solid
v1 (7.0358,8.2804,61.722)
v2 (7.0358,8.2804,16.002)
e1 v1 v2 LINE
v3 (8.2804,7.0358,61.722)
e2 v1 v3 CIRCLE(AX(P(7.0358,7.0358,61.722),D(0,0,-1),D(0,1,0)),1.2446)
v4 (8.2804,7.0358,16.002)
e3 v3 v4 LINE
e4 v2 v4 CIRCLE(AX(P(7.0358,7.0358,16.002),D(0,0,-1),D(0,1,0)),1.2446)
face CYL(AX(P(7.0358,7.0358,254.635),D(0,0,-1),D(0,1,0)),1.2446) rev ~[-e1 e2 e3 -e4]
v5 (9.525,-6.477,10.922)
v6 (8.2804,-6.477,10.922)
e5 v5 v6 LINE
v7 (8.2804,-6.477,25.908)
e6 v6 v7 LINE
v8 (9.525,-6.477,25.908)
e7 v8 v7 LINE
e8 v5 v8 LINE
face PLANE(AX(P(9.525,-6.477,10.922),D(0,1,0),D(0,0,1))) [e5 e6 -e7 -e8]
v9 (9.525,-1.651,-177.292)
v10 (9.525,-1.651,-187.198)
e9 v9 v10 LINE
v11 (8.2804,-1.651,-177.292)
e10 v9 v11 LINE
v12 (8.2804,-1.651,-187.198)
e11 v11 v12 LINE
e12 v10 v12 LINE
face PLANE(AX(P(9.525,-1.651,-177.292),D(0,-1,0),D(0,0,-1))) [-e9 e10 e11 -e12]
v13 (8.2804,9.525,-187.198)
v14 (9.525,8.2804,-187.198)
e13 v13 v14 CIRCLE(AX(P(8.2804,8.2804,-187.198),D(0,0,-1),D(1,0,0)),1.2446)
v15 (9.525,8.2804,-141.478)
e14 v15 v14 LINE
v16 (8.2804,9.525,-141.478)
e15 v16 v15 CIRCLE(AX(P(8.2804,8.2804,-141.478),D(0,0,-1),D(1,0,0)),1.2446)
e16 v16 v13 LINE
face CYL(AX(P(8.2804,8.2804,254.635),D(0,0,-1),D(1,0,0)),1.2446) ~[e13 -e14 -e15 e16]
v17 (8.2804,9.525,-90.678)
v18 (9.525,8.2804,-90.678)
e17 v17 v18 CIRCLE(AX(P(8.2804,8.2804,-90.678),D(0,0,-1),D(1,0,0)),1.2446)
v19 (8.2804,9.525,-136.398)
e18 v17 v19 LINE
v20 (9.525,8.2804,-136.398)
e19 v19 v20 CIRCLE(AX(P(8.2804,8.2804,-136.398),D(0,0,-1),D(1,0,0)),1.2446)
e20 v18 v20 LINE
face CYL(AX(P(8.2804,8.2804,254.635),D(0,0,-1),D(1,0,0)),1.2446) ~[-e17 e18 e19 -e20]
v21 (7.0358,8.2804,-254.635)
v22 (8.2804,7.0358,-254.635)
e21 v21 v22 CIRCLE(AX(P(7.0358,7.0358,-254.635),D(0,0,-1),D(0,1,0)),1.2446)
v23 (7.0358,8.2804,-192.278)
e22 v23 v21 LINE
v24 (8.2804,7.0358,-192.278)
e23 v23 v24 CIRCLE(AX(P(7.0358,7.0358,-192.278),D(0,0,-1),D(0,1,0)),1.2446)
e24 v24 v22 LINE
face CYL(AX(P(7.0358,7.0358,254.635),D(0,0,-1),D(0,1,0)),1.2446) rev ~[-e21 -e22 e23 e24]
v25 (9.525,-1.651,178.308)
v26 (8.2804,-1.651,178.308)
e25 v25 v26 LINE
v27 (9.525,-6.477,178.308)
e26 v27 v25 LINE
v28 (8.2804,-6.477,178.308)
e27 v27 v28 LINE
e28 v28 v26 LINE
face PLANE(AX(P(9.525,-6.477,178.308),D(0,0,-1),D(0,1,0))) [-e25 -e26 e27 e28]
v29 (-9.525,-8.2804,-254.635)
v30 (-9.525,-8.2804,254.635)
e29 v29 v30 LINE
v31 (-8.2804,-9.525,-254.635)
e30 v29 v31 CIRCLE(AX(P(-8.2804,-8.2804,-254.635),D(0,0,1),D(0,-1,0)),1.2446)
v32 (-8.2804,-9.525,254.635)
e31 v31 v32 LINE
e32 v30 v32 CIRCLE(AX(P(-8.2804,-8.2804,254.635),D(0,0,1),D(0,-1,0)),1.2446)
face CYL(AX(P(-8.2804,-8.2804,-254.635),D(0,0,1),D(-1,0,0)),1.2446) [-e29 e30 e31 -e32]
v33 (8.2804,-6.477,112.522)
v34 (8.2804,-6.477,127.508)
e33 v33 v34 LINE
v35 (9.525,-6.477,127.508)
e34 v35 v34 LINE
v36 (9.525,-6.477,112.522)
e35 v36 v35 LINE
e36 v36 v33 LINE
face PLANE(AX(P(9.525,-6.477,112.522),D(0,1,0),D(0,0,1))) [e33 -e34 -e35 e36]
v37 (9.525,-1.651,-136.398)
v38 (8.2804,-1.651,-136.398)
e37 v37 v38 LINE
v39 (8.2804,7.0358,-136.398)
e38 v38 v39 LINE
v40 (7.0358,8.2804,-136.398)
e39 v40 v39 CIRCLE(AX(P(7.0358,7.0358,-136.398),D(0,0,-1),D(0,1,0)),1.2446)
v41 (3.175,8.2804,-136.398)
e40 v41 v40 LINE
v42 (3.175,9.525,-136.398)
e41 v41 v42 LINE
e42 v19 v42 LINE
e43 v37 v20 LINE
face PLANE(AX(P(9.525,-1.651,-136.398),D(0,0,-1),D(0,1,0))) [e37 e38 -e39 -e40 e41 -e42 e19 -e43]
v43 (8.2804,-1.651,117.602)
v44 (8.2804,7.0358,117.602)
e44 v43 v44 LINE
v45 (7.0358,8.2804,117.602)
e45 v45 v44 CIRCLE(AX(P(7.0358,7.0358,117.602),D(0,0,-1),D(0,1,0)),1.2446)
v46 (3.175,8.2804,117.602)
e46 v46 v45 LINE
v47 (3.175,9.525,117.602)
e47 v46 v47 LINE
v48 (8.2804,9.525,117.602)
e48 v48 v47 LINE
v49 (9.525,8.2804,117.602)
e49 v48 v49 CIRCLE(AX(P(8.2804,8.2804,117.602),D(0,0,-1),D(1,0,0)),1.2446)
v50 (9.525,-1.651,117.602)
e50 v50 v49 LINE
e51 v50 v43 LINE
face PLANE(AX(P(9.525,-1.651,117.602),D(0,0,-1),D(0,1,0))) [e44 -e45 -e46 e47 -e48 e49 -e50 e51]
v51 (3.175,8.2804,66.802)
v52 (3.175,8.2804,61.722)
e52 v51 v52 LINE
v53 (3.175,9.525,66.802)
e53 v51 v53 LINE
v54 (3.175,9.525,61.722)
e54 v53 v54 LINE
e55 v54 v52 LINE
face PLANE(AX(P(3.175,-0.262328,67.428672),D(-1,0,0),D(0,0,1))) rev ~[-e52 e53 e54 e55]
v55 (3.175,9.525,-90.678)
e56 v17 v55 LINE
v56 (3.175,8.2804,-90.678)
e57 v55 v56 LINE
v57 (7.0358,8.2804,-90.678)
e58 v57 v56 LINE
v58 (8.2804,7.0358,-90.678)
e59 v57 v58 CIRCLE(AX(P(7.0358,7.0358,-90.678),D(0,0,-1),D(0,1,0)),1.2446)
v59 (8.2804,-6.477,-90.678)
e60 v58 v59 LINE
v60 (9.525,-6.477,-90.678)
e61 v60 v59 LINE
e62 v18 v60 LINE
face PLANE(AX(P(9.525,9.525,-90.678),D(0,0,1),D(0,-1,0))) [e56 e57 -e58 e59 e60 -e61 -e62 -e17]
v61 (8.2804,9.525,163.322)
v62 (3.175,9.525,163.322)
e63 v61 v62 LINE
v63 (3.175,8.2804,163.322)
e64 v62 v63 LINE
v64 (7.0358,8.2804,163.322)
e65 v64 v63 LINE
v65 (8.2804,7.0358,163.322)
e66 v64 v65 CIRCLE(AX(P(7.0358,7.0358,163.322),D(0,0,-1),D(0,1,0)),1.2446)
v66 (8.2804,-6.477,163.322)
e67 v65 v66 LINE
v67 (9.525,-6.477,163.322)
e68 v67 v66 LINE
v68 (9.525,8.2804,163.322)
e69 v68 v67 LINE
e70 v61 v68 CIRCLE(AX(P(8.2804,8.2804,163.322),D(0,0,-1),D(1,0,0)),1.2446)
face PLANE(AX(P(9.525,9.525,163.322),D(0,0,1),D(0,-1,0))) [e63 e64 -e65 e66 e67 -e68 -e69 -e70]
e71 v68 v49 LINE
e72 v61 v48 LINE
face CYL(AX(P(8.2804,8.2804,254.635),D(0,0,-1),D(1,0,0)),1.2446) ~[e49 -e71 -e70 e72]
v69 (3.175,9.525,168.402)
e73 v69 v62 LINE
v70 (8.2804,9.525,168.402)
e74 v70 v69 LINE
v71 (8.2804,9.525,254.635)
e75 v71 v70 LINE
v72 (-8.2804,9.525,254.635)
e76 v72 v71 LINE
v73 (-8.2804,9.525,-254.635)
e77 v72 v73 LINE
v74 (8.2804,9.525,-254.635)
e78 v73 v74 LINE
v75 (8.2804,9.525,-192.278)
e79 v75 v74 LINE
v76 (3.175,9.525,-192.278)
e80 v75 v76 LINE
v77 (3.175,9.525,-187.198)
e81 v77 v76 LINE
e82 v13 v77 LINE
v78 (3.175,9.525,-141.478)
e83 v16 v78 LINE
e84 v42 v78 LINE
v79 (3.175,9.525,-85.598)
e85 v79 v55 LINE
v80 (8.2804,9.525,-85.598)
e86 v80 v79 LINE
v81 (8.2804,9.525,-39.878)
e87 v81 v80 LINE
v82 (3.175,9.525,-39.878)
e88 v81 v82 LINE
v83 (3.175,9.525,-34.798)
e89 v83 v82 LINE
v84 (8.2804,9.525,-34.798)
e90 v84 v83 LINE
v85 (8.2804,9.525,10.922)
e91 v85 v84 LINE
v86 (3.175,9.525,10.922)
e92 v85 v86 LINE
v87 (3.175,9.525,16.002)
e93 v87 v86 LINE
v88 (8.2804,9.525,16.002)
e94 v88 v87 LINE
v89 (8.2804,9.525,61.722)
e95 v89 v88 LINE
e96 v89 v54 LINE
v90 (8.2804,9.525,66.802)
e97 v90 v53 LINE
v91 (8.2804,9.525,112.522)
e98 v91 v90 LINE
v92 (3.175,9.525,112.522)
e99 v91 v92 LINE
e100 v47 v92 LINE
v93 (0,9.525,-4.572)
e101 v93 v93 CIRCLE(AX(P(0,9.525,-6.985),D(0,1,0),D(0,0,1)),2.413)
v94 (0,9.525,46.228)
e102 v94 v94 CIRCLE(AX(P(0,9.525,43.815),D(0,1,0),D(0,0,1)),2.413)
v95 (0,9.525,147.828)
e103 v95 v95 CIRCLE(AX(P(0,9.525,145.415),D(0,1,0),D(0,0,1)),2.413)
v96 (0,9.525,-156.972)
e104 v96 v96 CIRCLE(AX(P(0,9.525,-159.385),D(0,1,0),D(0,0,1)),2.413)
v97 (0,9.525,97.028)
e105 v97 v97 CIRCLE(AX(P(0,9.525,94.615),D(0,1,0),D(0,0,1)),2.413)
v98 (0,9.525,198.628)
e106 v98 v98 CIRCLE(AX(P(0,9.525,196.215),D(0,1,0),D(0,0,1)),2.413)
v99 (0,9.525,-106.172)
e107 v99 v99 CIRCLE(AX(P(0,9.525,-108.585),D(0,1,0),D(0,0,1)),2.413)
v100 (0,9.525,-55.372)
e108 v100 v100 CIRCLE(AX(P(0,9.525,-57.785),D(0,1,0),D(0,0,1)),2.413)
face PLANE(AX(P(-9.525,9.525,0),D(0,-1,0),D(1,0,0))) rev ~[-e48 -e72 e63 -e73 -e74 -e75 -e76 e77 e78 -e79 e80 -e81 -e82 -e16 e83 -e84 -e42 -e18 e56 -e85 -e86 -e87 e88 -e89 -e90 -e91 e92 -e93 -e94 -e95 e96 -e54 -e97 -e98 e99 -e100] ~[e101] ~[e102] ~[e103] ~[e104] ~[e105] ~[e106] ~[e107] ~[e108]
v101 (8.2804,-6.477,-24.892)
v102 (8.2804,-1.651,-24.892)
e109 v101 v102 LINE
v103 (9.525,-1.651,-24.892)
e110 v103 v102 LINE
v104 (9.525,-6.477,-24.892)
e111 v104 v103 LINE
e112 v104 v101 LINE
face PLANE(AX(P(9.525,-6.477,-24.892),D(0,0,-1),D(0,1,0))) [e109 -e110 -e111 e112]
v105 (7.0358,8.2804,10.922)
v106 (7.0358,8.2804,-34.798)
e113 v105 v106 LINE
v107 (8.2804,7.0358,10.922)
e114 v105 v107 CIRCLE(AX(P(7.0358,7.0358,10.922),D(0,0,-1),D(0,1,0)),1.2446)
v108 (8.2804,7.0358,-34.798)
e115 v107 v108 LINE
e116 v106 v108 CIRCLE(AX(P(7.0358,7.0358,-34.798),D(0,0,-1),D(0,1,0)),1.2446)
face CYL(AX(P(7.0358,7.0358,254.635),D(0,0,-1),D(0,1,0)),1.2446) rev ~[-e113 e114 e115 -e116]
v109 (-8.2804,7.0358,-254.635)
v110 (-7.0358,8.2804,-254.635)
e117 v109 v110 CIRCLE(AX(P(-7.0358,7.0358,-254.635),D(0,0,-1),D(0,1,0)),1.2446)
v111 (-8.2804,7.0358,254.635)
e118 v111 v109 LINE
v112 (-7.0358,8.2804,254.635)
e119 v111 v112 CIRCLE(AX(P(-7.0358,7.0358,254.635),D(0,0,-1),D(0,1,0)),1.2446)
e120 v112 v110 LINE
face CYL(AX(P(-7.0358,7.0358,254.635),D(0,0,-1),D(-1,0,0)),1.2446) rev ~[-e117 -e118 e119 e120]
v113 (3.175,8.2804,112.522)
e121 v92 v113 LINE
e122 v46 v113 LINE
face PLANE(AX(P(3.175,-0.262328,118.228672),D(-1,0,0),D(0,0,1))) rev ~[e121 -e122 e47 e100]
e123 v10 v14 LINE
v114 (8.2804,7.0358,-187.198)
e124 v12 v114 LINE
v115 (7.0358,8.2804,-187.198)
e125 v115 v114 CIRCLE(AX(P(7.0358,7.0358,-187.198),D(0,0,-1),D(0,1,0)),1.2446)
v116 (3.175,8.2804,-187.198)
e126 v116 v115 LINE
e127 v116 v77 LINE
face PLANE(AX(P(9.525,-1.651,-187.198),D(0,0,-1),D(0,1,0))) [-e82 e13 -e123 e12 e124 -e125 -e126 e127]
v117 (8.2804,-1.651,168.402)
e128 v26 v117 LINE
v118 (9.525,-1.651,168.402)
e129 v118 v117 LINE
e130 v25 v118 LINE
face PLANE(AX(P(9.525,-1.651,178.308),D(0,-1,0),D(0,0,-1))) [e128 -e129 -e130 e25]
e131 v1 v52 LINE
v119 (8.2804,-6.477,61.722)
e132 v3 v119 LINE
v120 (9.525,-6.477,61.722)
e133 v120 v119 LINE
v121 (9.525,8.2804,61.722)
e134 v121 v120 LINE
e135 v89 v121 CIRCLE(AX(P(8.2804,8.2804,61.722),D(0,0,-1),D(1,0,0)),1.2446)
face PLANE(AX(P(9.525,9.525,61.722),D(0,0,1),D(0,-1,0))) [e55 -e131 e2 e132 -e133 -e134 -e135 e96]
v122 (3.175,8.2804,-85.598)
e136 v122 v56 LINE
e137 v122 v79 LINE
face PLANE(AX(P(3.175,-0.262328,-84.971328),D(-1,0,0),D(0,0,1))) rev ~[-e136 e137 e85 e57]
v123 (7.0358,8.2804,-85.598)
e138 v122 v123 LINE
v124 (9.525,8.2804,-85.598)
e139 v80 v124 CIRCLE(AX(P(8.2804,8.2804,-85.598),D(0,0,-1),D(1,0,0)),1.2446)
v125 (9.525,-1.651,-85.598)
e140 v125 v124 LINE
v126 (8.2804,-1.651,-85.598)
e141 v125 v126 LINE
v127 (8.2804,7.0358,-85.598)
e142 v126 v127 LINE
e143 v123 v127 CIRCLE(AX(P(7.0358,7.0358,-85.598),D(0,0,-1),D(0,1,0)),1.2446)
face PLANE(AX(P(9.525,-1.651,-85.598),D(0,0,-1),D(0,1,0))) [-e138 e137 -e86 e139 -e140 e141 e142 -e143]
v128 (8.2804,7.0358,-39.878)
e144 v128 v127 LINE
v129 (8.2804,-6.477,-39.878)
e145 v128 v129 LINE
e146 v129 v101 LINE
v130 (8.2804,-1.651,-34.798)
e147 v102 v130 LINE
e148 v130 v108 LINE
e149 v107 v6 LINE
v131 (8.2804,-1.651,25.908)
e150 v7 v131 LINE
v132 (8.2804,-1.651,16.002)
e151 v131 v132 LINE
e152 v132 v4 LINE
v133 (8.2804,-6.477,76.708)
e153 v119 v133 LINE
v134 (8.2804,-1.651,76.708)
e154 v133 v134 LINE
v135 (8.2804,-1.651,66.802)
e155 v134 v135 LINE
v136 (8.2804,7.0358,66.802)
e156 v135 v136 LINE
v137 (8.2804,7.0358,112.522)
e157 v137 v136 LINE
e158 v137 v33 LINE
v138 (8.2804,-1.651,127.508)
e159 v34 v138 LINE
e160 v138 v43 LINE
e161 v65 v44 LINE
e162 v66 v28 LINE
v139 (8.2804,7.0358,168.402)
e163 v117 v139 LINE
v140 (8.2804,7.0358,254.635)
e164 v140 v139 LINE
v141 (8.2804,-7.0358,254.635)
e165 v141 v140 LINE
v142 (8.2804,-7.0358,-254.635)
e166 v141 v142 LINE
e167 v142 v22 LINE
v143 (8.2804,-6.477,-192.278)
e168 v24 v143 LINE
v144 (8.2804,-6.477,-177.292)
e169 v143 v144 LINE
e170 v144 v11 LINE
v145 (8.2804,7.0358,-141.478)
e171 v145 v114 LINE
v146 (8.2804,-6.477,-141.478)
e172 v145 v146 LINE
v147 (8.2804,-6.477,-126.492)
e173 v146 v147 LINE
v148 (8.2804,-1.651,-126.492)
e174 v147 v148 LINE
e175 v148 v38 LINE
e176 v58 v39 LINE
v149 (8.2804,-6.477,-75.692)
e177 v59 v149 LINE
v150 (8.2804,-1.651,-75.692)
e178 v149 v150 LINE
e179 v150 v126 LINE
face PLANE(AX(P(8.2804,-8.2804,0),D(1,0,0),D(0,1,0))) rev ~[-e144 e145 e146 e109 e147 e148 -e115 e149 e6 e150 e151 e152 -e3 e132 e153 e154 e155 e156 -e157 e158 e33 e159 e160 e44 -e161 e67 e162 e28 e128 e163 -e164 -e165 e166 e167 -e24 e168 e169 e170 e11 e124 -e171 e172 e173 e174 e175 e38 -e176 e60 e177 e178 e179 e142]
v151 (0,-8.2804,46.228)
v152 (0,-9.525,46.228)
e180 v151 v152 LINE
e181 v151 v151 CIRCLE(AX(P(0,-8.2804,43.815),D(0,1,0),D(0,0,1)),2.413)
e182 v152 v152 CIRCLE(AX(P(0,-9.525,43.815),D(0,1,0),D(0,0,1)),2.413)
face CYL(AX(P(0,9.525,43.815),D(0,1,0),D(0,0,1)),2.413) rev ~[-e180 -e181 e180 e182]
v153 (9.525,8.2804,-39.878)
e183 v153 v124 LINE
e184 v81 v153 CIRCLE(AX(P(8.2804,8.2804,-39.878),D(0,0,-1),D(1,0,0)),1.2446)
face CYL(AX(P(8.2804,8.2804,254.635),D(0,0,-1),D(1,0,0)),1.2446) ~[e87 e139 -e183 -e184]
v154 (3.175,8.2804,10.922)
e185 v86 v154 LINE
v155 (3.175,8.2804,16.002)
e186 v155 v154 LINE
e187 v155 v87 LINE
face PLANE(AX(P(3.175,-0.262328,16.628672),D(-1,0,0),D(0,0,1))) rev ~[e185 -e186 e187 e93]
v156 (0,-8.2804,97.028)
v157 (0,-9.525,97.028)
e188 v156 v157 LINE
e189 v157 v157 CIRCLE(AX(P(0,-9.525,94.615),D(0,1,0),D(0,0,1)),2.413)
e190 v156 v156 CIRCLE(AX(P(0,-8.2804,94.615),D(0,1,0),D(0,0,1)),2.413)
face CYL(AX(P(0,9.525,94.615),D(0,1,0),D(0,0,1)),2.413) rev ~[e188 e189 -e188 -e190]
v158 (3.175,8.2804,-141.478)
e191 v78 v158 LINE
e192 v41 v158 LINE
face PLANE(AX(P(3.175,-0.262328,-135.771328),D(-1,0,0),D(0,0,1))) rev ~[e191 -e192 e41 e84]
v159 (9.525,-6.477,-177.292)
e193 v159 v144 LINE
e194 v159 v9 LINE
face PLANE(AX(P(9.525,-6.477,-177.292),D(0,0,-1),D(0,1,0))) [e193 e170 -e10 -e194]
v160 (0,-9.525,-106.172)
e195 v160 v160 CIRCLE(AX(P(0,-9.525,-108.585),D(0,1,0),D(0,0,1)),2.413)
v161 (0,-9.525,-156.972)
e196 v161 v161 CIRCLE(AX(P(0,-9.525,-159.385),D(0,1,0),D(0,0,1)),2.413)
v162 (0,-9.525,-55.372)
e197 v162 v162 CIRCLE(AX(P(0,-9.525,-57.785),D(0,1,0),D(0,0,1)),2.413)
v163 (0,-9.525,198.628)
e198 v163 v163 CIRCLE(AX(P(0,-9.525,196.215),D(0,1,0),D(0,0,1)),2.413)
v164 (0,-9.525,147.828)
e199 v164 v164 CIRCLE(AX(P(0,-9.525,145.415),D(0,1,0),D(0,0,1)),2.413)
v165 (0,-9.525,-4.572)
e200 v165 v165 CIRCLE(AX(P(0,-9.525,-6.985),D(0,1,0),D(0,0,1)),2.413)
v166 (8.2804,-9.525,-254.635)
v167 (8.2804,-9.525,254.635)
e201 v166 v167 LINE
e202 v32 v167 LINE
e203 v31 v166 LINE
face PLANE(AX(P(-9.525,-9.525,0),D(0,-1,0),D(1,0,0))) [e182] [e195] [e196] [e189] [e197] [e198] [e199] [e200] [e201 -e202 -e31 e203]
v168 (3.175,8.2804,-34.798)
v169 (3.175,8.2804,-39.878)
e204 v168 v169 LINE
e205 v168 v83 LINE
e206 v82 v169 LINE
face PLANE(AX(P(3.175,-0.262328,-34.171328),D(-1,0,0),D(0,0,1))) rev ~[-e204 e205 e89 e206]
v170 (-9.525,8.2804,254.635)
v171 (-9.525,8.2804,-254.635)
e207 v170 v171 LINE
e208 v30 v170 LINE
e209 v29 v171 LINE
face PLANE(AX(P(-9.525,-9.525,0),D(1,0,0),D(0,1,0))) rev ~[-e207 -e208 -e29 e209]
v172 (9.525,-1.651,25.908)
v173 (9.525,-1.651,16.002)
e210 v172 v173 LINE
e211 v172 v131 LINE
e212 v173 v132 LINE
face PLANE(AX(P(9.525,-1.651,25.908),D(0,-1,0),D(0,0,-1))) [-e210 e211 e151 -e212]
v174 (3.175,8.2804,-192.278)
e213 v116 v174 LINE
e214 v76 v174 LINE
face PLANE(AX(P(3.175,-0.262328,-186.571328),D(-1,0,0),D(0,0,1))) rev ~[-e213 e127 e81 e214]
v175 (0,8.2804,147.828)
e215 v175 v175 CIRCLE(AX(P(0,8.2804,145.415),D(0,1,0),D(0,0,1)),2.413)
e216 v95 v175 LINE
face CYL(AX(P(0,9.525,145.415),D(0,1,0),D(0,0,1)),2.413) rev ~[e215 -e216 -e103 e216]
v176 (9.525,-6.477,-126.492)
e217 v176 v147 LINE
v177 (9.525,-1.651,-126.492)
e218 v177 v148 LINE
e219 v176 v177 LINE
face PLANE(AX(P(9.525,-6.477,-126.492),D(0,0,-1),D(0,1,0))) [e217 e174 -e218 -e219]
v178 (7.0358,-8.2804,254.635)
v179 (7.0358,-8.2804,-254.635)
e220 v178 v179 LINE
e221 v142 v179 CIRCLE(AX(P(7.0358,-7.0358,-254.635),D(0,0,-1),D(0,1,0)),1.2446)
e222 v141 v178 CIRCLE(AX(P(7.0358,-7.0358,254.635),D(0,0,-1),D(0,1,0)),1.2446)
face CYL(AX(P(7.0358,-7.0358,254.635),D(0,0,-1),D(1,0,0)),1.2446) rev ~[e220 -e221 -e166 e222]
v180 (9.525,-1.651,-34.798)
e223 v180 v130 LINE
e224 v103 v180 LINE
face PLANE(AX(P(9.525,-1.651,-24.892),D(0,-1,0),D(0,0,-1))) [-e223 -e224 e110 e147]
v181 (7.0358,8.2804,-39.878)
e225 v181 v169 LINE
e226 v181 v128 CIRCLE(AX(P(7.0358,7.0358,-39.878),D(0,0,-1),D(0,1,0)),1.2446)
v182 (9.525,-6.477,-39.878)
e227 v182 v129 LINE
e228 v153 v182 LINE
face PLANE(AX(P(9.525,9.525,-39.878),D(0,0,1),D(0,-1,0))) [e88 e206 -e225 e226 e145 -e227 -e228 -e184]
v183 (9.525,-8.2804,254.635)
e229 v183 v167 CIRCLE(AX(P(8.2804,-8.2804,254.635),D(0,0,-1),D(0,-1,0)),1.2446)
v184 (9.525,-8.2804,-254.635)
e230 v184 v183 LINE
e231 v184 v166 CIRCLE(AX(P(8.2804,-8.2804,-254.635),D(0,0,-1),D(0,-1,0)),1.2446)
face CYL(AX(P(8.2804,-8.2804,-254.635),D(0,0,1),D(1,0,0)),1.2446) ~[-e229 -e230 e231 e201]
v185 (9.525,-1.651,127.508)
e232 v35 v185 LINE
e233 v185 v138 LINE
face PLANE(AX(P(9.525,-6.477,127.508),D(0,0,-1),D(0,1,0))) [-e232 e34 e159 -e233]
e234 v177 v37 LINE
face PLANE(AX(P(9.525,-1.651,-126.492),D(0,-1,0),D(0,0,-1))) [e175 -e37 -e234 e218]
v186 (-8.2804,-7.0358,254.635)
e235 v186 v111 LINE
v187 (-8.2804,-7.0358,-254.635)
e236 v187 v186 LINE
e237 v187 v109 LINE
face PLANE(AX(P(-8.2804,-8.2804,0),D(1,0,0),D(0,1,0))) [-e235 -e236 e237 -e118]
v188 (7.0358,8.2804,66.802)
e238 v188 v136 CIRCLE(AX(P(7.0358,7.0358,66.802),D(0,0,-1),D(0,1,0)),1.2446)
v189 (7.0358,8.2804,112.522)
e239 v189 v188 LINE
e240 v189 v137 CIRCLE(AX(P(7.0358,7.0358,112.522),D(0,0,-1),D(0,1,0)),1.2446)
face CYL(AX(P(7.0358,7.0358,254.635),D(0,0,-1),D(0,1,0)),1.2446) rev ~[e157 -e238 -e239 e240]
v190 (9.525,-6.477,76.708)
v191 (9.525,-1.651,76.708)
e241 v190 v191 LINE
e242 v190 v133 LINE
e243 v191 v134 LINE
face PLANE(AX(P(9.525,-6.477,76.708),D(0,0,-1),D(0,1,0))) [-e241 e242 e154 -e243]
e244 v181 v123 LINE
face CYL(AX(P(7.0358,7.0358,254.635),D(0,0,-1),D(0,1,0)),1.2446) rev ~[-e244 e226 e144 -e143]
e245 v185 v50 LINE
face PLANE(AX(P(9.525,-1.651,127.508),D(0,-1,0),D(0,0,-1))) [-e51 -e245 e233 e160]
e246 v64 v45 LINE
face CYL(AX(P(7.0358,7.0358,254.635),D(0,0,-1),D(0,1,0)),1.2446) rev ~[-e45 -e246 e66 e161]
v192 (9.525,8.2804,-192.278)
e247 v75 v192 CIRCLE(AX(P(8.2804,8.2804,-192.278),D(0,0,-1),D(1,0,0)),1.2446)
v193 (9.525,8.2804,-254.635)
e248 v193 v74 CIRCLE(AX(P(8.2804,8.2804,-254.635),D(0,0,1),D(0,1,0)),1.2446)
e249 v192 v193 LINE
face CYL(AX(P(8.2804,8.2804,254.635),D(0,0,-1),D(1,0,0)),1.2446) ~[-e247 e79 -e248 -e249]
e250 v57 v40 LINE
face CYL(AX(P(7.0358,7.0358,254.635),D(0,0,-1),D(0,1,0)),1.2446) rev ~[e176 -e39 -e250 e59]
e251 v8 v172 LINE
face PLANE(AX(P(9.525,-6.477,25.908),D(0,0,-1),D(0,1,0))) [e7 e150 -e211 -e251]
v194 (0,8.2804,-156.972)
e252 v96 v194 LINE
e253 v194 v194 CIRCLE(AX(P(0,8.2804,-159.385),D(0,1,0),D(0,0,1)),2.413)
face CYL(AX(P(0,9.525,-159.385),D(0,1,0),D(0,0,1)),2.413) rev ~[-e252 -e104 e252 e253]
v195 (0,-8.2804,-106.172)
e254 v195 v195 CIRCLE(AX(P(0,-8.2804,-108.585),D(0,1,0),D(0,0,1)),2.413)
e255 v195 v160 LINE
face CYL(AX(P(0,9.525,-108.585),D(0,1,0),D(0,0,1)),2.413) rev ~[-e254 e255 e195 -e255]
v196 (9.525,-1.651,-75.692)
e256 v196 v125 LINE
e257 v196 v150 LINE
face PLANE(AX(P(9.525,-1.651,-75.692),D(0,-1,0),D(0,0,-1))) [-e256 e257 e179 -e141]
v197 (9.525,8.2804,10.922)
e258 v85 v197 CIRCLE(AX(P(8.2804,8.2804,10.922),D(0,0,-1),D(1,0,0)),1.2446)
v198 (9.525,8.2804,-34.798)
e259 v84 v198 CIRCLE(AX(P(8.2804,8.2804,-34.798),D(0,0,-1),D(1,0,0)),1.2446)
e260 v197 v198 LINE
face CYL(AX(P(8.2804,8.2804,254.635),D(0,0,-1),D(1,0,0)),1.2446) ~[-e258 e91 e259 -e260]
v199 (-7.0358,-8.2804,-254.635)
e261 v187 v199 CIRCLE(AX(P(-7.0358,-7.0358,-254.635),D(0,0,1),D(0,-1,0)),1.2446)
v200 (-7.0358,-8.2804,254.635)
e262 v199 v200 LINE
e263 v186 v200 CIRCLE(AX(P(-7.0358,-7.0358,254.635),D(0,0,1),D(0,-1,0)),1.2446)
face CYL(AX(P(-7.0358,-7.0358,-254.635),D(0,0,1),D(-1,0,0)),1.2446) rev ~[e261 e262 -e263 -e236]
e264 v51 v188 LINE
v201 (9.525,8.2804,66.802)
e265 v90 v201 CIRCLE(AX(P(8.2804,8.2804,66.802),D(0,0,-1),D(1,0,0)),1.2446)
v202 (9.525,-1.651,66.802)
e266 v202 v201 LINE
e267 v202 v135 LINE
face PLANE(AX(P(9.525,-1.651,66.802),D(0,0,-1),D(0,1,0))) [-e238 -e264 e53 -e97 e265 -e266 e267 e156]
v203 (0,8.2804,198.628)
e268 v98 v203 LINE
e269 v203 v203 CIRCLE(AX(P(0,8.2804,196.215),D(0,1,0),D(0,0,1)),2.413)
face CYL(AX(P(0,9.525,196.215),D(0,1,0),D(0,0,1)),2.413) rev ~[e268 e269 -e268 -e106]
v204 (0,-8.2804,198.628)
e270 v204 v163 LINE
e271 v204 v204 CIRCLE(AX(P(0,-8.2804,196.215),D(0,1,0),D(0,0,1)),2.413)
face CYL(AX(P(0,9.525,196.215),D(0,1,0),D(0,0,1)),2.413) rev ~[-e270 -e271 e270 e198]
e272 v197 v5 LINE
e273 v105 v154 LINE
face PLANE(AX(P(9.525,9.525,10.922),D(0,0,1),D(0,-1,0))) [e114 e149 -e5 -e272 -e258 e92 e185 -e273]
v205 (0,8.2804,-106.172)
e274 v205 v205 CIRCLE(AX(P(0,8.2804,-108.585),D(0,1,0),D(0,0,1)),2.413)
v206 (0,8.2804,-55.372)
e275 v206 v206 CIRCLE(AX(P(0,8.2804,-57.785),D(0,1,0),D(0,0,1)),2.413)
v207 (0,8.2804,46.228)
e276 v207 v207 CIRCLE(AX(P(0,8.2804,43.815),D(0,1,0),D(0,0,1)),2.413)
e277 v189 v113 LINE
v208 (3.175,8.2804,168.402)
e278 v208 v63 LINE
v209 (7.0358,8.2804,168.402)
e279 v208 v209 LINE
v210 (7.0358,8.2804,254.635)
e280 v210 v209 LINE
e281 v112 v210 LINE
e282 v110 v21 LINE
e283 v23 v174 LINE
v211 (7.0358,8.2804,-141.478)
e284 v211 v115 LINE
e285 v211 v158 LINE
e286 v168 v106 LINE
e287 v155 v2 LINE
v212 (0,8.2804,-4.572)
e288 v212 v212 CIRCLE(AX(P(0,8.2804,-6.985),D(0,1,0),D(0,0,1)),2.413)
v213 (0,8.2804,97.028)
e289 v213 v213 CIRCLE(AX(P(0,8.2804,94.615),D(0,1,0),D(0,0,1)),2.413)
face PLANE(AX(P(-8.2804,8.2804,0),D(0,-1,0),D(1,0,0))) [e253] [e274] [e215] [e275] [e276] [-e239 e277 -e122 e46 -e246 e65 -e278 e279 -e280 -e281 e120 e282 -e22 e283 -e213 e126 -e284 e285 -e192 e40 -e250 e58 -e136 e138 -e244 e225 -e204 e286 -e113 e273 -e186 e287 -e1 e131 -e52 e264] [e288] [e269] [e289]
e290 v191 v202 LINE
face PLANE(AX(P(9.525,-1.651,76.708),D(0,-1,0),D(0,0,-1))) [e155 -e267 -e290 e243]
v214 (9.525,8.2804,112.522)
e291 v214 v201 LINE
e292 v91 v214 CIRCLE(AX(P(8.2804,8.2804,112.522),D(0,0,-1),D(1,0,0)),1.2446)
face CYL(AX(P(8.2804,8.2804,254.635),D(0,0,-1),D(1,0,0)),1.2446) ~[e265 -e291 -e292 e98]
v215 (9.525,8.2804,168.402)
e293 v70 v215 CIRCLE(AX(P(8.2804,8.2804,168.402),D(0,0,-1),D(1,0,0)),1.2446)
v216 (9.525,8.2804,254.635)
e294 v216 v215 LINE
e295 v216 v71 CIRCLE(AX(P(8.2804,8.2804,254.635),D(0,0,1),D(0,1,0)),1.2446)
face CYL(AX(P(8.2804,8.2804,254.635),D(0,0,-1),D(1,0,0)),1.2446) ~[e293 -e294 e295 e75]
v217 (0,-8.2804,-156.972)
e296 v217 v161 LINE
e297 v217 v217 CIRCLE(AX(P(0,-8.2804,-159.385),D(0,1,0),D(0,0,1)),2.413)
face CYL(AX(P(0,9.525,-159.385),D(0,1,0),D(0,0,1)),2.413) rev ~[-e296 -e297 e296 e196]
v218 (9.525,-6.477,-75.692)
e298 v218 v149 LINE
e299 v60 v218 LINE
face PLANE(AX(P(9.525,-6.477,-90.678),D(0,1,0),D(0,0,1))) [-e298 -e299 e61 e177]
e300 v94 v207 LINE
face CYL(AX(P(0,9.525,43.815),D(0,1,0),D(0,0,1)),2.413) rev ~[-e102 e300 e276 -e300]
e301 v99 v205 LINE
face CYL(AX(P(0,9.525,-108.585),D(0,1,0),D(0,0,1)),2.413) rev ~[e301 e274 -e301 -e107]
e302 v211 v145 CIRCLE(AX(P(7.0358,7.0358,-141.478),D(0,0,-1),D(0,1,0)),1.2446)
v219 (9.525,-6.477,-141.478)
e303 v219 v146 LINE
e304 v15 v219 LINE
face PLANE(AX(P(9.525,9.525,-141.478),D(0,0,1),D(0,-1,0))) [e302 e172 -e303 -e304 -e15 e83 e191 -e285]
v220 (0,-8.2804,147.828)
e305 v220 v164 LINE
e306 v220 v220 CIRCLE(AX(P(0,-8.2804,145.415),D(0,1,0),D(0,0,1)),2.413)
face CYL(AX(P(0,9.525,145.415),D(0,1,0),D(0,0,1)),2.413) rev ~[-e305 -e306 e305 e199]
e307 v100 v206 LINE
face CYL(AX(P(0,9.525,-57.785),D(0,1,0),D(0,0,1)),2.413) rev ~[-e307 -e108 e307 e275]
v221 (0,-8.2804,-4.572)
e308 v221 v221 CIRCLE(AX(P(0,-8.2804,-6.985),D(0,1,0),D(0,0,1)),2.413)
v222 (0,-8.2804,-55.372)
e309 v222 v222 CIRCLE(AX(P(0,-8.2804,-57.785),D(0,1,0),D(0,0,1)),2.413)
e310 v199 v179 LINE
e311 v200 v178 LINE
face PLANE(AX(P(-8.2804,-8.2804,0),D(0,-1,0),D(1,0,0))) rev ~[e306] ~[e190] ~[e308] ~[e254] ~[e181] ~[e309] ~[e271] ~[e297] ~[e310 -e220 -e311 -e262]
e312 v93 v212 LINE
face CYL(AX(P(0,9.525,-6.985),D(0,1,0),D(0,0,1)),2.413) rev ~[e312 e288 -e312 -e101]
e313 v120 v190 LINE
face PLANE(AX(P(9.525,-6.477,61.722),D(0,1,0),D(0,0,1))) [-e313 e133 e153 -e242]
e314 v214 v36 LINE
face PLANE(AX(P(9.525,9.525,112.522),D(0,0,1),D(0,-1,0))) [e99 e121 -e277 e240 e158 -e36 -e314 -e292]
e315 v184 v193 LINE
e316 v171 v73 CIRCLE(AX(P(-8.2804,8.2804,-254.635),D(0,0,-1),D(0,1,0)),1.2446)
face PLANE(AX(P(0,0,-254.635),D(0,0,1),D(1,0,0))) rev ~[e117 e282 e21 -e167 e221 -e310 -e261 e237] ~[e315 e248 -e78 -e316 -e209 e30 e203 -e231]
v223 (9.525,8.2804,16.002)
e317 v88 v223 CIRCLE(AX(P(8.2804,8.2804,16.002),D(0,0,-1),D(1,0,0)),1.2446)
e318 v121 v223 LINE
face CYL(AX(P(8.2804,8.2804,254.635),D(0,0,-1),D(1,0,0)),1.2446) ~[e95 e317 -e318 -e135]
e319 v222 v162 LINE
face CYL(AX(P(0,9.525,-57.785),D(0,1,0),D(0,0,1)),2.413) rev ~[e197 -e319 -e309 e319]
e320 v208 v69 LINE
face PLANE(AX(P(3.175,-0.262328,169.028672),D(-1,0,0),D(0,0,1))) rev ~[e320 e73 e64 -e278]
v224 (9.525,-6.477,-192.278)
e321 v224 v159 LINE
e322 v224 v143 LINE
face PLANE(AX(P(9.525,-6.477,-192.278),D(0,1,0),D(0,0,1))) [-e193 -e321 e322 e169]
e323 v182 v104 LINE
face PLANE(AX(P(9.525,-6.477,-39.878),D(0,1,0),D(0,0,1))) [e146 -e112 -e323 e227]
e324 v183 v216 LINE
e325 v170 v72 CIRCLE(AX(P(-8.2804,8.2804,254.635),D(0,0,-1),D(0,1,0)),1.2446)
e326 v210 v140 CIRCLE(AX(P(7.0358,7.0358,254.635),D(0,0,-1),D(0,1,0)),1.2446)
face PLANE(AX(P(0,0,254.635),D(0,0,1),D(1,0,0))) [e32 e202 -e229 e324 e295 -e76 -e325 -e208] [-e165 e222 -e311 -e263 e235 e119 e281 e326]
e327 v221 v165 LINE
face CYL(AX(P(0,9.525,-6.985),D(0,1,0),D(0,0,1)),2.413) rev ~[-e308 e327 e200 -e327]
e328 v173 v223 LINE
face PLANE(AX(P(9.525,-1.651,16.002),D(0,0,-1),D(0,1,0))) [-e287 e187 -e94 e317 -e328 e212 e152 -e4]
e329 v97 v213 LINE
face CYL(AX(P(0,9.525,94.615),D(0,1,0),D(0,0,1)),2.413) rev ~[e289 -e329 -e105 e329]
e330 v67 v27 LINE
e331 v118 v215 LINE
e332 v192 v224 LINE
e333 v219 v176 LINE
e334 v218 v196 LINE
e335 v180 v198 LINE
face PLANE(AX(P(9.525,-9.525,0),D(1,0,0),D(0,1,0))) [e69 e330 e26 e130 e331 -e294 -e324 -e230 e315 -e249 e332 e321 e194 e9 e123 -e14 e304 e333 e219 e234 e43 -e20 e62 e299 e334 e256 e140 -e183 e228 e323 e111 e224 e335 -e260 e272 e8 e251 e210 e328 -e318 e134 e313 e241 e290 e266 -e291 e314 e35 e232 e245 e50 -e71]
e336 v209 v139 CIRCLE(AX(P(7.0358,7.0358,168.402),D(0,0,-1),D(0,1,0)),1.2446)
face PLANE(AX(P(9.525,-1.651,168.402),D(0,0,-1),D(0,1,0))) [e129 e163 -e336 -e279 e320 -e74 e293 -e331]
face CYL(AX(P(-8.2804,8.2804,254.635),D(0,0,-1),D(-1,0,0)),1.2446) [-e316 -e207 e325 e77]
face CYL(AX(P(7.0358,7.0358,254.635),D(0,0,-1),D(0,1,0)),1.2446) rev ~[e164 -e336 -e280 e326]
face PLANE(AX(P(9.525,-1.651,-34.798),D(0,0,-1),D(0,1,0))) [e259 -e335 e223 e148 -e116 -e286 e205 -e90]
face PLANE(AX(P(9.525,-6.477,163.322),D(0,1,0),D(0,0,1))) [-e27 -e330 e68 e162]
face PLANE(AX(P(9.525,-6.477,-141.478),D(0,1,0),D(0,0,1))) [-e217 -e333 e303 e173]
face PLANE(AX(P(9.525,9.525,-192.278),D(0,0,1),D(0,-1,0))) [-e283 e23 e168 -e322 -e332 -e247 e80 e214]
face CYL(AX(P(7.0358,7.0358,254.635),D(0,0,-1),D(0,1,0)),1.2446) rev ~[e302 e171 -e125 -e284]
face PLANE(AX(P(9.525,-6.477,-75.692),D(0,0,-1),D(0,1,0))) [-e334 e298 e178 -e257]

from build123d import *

# Parameters (mm, degrees)
SKETCH3_W           = 19.05
SKETCH3_H           = 19.05
SKETCH3_W_2         = 16.5608
SKETCH3_H_2         = 16.5608
BOSS_EXTRUDE1_DEPTH = 254.635
FILLET1_R           = 1.2446
SKETCH4_R           = 2.413
CUT_EXTRUDE1_DEPTH  = 256.524189364
CUT_EXTRUDE3_START  = -19.05
CUT_EXTRUDE3_DEPTH  = 6.35
LPATTERN2_COUNT     = 8
LPATTERN2_PITCH     = 50.8


with BuildPart() as part:
    # Sketch3 → Boss-Extrude1 (new, symmetric)
    with BuildSketch(Plane.XY):
        Rectangle(SKETCH3_W, SKETCH3_H)
        Rectangle(SKETCH3_W_2, SKETCH3_H_2, mode=Mode.SUBTRACT)
    extrude(amount=BOSS_EXTRUDE1_DEPTH, both=True)

    # Fillet1
    fillet1_edges = [part.edges().sort_by_distance(p)[0] for p in [
        (-8.2804, -8.2804, 0),
        (8.2804, -8.2804, 0),
        (8.2804, 8.2804, 0),
        (-8.2804, 8.2804, 0),
        (9.525, -9.525, 0),
        (-9.525, -9.525, 0),
        (-9.525, 9.525, 0),
        (9.525, 9.525, 0),
    ]]
    fillet(fillet1_edges, radius=FILLET1_R)

    # Sketch4 → Cut-Extrude1 (cut, through all)
    with BuildSketch(Plane(origin=(0, 9.525, 0), x_dir=(1, 0, 0), z_dir=(0, 1, 0))):
        with Locations(Location((0, 159.385, 0), (0, 0, 270))):
            Circle(SKETCH4_R)
        with Locations(Location((0, 108.585, 0), (0, 0, 270))):
            Circle(SKETCH4_R)
        with Locations(Location((0, 57.785, 0), (0, 0, 270))):
            Circle(SKETCH4_R)
        with Locations(Location((0, 6.985, 0), (0, 0, 270))):
            Circle(SKETCH4_R)
        with Locations(Location((0, -43.815, 0), (0, 0, 270))):
            Circle(SKETCH4_R)
        with Locations(Location((0, -94.615, 0), (0, 0, 270))):
            Circle(SKETCH4_R)
        with Locations(Location((0, -145.415, 0), (0, 0, 270))):
            Circle(SKETCH4_R)
        with Locations(Location((0, -196.215, 0), (0, 0, 270))):
            Circle(SKETCH4_R)
    extrude(amount=-CUT_EXTRUDE1_DEPTH, mode=Mode.SUBTRACT)

    # Sketch6 → Cut-Extrude3 (cut)
    with BuildSketch(Plane.ZY.offset(9.525).offset(CUT_EXTRUDE3_START)):
        Polygon((-182.118, -1.651), (-187.198, -1.651), (-187.198, 9.525), (-192.278, 9.525), (-192.278, -6.477), (-182.118, -6.477), (-177.292, -6.477), (-177.292, -1.651), align=None)
    cut_extrude3 = extrude(amount=CUT_EXTRUDE3_DEPTH, mode=Mode.SUBTRACT)

    # LPattern2: Cut-Extrude3 ×8
    with Locations(*[(0, 0, i * LPATTERN2_PITCH) for i in range(1, LPATTERN2_COUNT)]):
        add(cut_extrude3, mode=Mode.SUBTRACT)


solid = part.part
